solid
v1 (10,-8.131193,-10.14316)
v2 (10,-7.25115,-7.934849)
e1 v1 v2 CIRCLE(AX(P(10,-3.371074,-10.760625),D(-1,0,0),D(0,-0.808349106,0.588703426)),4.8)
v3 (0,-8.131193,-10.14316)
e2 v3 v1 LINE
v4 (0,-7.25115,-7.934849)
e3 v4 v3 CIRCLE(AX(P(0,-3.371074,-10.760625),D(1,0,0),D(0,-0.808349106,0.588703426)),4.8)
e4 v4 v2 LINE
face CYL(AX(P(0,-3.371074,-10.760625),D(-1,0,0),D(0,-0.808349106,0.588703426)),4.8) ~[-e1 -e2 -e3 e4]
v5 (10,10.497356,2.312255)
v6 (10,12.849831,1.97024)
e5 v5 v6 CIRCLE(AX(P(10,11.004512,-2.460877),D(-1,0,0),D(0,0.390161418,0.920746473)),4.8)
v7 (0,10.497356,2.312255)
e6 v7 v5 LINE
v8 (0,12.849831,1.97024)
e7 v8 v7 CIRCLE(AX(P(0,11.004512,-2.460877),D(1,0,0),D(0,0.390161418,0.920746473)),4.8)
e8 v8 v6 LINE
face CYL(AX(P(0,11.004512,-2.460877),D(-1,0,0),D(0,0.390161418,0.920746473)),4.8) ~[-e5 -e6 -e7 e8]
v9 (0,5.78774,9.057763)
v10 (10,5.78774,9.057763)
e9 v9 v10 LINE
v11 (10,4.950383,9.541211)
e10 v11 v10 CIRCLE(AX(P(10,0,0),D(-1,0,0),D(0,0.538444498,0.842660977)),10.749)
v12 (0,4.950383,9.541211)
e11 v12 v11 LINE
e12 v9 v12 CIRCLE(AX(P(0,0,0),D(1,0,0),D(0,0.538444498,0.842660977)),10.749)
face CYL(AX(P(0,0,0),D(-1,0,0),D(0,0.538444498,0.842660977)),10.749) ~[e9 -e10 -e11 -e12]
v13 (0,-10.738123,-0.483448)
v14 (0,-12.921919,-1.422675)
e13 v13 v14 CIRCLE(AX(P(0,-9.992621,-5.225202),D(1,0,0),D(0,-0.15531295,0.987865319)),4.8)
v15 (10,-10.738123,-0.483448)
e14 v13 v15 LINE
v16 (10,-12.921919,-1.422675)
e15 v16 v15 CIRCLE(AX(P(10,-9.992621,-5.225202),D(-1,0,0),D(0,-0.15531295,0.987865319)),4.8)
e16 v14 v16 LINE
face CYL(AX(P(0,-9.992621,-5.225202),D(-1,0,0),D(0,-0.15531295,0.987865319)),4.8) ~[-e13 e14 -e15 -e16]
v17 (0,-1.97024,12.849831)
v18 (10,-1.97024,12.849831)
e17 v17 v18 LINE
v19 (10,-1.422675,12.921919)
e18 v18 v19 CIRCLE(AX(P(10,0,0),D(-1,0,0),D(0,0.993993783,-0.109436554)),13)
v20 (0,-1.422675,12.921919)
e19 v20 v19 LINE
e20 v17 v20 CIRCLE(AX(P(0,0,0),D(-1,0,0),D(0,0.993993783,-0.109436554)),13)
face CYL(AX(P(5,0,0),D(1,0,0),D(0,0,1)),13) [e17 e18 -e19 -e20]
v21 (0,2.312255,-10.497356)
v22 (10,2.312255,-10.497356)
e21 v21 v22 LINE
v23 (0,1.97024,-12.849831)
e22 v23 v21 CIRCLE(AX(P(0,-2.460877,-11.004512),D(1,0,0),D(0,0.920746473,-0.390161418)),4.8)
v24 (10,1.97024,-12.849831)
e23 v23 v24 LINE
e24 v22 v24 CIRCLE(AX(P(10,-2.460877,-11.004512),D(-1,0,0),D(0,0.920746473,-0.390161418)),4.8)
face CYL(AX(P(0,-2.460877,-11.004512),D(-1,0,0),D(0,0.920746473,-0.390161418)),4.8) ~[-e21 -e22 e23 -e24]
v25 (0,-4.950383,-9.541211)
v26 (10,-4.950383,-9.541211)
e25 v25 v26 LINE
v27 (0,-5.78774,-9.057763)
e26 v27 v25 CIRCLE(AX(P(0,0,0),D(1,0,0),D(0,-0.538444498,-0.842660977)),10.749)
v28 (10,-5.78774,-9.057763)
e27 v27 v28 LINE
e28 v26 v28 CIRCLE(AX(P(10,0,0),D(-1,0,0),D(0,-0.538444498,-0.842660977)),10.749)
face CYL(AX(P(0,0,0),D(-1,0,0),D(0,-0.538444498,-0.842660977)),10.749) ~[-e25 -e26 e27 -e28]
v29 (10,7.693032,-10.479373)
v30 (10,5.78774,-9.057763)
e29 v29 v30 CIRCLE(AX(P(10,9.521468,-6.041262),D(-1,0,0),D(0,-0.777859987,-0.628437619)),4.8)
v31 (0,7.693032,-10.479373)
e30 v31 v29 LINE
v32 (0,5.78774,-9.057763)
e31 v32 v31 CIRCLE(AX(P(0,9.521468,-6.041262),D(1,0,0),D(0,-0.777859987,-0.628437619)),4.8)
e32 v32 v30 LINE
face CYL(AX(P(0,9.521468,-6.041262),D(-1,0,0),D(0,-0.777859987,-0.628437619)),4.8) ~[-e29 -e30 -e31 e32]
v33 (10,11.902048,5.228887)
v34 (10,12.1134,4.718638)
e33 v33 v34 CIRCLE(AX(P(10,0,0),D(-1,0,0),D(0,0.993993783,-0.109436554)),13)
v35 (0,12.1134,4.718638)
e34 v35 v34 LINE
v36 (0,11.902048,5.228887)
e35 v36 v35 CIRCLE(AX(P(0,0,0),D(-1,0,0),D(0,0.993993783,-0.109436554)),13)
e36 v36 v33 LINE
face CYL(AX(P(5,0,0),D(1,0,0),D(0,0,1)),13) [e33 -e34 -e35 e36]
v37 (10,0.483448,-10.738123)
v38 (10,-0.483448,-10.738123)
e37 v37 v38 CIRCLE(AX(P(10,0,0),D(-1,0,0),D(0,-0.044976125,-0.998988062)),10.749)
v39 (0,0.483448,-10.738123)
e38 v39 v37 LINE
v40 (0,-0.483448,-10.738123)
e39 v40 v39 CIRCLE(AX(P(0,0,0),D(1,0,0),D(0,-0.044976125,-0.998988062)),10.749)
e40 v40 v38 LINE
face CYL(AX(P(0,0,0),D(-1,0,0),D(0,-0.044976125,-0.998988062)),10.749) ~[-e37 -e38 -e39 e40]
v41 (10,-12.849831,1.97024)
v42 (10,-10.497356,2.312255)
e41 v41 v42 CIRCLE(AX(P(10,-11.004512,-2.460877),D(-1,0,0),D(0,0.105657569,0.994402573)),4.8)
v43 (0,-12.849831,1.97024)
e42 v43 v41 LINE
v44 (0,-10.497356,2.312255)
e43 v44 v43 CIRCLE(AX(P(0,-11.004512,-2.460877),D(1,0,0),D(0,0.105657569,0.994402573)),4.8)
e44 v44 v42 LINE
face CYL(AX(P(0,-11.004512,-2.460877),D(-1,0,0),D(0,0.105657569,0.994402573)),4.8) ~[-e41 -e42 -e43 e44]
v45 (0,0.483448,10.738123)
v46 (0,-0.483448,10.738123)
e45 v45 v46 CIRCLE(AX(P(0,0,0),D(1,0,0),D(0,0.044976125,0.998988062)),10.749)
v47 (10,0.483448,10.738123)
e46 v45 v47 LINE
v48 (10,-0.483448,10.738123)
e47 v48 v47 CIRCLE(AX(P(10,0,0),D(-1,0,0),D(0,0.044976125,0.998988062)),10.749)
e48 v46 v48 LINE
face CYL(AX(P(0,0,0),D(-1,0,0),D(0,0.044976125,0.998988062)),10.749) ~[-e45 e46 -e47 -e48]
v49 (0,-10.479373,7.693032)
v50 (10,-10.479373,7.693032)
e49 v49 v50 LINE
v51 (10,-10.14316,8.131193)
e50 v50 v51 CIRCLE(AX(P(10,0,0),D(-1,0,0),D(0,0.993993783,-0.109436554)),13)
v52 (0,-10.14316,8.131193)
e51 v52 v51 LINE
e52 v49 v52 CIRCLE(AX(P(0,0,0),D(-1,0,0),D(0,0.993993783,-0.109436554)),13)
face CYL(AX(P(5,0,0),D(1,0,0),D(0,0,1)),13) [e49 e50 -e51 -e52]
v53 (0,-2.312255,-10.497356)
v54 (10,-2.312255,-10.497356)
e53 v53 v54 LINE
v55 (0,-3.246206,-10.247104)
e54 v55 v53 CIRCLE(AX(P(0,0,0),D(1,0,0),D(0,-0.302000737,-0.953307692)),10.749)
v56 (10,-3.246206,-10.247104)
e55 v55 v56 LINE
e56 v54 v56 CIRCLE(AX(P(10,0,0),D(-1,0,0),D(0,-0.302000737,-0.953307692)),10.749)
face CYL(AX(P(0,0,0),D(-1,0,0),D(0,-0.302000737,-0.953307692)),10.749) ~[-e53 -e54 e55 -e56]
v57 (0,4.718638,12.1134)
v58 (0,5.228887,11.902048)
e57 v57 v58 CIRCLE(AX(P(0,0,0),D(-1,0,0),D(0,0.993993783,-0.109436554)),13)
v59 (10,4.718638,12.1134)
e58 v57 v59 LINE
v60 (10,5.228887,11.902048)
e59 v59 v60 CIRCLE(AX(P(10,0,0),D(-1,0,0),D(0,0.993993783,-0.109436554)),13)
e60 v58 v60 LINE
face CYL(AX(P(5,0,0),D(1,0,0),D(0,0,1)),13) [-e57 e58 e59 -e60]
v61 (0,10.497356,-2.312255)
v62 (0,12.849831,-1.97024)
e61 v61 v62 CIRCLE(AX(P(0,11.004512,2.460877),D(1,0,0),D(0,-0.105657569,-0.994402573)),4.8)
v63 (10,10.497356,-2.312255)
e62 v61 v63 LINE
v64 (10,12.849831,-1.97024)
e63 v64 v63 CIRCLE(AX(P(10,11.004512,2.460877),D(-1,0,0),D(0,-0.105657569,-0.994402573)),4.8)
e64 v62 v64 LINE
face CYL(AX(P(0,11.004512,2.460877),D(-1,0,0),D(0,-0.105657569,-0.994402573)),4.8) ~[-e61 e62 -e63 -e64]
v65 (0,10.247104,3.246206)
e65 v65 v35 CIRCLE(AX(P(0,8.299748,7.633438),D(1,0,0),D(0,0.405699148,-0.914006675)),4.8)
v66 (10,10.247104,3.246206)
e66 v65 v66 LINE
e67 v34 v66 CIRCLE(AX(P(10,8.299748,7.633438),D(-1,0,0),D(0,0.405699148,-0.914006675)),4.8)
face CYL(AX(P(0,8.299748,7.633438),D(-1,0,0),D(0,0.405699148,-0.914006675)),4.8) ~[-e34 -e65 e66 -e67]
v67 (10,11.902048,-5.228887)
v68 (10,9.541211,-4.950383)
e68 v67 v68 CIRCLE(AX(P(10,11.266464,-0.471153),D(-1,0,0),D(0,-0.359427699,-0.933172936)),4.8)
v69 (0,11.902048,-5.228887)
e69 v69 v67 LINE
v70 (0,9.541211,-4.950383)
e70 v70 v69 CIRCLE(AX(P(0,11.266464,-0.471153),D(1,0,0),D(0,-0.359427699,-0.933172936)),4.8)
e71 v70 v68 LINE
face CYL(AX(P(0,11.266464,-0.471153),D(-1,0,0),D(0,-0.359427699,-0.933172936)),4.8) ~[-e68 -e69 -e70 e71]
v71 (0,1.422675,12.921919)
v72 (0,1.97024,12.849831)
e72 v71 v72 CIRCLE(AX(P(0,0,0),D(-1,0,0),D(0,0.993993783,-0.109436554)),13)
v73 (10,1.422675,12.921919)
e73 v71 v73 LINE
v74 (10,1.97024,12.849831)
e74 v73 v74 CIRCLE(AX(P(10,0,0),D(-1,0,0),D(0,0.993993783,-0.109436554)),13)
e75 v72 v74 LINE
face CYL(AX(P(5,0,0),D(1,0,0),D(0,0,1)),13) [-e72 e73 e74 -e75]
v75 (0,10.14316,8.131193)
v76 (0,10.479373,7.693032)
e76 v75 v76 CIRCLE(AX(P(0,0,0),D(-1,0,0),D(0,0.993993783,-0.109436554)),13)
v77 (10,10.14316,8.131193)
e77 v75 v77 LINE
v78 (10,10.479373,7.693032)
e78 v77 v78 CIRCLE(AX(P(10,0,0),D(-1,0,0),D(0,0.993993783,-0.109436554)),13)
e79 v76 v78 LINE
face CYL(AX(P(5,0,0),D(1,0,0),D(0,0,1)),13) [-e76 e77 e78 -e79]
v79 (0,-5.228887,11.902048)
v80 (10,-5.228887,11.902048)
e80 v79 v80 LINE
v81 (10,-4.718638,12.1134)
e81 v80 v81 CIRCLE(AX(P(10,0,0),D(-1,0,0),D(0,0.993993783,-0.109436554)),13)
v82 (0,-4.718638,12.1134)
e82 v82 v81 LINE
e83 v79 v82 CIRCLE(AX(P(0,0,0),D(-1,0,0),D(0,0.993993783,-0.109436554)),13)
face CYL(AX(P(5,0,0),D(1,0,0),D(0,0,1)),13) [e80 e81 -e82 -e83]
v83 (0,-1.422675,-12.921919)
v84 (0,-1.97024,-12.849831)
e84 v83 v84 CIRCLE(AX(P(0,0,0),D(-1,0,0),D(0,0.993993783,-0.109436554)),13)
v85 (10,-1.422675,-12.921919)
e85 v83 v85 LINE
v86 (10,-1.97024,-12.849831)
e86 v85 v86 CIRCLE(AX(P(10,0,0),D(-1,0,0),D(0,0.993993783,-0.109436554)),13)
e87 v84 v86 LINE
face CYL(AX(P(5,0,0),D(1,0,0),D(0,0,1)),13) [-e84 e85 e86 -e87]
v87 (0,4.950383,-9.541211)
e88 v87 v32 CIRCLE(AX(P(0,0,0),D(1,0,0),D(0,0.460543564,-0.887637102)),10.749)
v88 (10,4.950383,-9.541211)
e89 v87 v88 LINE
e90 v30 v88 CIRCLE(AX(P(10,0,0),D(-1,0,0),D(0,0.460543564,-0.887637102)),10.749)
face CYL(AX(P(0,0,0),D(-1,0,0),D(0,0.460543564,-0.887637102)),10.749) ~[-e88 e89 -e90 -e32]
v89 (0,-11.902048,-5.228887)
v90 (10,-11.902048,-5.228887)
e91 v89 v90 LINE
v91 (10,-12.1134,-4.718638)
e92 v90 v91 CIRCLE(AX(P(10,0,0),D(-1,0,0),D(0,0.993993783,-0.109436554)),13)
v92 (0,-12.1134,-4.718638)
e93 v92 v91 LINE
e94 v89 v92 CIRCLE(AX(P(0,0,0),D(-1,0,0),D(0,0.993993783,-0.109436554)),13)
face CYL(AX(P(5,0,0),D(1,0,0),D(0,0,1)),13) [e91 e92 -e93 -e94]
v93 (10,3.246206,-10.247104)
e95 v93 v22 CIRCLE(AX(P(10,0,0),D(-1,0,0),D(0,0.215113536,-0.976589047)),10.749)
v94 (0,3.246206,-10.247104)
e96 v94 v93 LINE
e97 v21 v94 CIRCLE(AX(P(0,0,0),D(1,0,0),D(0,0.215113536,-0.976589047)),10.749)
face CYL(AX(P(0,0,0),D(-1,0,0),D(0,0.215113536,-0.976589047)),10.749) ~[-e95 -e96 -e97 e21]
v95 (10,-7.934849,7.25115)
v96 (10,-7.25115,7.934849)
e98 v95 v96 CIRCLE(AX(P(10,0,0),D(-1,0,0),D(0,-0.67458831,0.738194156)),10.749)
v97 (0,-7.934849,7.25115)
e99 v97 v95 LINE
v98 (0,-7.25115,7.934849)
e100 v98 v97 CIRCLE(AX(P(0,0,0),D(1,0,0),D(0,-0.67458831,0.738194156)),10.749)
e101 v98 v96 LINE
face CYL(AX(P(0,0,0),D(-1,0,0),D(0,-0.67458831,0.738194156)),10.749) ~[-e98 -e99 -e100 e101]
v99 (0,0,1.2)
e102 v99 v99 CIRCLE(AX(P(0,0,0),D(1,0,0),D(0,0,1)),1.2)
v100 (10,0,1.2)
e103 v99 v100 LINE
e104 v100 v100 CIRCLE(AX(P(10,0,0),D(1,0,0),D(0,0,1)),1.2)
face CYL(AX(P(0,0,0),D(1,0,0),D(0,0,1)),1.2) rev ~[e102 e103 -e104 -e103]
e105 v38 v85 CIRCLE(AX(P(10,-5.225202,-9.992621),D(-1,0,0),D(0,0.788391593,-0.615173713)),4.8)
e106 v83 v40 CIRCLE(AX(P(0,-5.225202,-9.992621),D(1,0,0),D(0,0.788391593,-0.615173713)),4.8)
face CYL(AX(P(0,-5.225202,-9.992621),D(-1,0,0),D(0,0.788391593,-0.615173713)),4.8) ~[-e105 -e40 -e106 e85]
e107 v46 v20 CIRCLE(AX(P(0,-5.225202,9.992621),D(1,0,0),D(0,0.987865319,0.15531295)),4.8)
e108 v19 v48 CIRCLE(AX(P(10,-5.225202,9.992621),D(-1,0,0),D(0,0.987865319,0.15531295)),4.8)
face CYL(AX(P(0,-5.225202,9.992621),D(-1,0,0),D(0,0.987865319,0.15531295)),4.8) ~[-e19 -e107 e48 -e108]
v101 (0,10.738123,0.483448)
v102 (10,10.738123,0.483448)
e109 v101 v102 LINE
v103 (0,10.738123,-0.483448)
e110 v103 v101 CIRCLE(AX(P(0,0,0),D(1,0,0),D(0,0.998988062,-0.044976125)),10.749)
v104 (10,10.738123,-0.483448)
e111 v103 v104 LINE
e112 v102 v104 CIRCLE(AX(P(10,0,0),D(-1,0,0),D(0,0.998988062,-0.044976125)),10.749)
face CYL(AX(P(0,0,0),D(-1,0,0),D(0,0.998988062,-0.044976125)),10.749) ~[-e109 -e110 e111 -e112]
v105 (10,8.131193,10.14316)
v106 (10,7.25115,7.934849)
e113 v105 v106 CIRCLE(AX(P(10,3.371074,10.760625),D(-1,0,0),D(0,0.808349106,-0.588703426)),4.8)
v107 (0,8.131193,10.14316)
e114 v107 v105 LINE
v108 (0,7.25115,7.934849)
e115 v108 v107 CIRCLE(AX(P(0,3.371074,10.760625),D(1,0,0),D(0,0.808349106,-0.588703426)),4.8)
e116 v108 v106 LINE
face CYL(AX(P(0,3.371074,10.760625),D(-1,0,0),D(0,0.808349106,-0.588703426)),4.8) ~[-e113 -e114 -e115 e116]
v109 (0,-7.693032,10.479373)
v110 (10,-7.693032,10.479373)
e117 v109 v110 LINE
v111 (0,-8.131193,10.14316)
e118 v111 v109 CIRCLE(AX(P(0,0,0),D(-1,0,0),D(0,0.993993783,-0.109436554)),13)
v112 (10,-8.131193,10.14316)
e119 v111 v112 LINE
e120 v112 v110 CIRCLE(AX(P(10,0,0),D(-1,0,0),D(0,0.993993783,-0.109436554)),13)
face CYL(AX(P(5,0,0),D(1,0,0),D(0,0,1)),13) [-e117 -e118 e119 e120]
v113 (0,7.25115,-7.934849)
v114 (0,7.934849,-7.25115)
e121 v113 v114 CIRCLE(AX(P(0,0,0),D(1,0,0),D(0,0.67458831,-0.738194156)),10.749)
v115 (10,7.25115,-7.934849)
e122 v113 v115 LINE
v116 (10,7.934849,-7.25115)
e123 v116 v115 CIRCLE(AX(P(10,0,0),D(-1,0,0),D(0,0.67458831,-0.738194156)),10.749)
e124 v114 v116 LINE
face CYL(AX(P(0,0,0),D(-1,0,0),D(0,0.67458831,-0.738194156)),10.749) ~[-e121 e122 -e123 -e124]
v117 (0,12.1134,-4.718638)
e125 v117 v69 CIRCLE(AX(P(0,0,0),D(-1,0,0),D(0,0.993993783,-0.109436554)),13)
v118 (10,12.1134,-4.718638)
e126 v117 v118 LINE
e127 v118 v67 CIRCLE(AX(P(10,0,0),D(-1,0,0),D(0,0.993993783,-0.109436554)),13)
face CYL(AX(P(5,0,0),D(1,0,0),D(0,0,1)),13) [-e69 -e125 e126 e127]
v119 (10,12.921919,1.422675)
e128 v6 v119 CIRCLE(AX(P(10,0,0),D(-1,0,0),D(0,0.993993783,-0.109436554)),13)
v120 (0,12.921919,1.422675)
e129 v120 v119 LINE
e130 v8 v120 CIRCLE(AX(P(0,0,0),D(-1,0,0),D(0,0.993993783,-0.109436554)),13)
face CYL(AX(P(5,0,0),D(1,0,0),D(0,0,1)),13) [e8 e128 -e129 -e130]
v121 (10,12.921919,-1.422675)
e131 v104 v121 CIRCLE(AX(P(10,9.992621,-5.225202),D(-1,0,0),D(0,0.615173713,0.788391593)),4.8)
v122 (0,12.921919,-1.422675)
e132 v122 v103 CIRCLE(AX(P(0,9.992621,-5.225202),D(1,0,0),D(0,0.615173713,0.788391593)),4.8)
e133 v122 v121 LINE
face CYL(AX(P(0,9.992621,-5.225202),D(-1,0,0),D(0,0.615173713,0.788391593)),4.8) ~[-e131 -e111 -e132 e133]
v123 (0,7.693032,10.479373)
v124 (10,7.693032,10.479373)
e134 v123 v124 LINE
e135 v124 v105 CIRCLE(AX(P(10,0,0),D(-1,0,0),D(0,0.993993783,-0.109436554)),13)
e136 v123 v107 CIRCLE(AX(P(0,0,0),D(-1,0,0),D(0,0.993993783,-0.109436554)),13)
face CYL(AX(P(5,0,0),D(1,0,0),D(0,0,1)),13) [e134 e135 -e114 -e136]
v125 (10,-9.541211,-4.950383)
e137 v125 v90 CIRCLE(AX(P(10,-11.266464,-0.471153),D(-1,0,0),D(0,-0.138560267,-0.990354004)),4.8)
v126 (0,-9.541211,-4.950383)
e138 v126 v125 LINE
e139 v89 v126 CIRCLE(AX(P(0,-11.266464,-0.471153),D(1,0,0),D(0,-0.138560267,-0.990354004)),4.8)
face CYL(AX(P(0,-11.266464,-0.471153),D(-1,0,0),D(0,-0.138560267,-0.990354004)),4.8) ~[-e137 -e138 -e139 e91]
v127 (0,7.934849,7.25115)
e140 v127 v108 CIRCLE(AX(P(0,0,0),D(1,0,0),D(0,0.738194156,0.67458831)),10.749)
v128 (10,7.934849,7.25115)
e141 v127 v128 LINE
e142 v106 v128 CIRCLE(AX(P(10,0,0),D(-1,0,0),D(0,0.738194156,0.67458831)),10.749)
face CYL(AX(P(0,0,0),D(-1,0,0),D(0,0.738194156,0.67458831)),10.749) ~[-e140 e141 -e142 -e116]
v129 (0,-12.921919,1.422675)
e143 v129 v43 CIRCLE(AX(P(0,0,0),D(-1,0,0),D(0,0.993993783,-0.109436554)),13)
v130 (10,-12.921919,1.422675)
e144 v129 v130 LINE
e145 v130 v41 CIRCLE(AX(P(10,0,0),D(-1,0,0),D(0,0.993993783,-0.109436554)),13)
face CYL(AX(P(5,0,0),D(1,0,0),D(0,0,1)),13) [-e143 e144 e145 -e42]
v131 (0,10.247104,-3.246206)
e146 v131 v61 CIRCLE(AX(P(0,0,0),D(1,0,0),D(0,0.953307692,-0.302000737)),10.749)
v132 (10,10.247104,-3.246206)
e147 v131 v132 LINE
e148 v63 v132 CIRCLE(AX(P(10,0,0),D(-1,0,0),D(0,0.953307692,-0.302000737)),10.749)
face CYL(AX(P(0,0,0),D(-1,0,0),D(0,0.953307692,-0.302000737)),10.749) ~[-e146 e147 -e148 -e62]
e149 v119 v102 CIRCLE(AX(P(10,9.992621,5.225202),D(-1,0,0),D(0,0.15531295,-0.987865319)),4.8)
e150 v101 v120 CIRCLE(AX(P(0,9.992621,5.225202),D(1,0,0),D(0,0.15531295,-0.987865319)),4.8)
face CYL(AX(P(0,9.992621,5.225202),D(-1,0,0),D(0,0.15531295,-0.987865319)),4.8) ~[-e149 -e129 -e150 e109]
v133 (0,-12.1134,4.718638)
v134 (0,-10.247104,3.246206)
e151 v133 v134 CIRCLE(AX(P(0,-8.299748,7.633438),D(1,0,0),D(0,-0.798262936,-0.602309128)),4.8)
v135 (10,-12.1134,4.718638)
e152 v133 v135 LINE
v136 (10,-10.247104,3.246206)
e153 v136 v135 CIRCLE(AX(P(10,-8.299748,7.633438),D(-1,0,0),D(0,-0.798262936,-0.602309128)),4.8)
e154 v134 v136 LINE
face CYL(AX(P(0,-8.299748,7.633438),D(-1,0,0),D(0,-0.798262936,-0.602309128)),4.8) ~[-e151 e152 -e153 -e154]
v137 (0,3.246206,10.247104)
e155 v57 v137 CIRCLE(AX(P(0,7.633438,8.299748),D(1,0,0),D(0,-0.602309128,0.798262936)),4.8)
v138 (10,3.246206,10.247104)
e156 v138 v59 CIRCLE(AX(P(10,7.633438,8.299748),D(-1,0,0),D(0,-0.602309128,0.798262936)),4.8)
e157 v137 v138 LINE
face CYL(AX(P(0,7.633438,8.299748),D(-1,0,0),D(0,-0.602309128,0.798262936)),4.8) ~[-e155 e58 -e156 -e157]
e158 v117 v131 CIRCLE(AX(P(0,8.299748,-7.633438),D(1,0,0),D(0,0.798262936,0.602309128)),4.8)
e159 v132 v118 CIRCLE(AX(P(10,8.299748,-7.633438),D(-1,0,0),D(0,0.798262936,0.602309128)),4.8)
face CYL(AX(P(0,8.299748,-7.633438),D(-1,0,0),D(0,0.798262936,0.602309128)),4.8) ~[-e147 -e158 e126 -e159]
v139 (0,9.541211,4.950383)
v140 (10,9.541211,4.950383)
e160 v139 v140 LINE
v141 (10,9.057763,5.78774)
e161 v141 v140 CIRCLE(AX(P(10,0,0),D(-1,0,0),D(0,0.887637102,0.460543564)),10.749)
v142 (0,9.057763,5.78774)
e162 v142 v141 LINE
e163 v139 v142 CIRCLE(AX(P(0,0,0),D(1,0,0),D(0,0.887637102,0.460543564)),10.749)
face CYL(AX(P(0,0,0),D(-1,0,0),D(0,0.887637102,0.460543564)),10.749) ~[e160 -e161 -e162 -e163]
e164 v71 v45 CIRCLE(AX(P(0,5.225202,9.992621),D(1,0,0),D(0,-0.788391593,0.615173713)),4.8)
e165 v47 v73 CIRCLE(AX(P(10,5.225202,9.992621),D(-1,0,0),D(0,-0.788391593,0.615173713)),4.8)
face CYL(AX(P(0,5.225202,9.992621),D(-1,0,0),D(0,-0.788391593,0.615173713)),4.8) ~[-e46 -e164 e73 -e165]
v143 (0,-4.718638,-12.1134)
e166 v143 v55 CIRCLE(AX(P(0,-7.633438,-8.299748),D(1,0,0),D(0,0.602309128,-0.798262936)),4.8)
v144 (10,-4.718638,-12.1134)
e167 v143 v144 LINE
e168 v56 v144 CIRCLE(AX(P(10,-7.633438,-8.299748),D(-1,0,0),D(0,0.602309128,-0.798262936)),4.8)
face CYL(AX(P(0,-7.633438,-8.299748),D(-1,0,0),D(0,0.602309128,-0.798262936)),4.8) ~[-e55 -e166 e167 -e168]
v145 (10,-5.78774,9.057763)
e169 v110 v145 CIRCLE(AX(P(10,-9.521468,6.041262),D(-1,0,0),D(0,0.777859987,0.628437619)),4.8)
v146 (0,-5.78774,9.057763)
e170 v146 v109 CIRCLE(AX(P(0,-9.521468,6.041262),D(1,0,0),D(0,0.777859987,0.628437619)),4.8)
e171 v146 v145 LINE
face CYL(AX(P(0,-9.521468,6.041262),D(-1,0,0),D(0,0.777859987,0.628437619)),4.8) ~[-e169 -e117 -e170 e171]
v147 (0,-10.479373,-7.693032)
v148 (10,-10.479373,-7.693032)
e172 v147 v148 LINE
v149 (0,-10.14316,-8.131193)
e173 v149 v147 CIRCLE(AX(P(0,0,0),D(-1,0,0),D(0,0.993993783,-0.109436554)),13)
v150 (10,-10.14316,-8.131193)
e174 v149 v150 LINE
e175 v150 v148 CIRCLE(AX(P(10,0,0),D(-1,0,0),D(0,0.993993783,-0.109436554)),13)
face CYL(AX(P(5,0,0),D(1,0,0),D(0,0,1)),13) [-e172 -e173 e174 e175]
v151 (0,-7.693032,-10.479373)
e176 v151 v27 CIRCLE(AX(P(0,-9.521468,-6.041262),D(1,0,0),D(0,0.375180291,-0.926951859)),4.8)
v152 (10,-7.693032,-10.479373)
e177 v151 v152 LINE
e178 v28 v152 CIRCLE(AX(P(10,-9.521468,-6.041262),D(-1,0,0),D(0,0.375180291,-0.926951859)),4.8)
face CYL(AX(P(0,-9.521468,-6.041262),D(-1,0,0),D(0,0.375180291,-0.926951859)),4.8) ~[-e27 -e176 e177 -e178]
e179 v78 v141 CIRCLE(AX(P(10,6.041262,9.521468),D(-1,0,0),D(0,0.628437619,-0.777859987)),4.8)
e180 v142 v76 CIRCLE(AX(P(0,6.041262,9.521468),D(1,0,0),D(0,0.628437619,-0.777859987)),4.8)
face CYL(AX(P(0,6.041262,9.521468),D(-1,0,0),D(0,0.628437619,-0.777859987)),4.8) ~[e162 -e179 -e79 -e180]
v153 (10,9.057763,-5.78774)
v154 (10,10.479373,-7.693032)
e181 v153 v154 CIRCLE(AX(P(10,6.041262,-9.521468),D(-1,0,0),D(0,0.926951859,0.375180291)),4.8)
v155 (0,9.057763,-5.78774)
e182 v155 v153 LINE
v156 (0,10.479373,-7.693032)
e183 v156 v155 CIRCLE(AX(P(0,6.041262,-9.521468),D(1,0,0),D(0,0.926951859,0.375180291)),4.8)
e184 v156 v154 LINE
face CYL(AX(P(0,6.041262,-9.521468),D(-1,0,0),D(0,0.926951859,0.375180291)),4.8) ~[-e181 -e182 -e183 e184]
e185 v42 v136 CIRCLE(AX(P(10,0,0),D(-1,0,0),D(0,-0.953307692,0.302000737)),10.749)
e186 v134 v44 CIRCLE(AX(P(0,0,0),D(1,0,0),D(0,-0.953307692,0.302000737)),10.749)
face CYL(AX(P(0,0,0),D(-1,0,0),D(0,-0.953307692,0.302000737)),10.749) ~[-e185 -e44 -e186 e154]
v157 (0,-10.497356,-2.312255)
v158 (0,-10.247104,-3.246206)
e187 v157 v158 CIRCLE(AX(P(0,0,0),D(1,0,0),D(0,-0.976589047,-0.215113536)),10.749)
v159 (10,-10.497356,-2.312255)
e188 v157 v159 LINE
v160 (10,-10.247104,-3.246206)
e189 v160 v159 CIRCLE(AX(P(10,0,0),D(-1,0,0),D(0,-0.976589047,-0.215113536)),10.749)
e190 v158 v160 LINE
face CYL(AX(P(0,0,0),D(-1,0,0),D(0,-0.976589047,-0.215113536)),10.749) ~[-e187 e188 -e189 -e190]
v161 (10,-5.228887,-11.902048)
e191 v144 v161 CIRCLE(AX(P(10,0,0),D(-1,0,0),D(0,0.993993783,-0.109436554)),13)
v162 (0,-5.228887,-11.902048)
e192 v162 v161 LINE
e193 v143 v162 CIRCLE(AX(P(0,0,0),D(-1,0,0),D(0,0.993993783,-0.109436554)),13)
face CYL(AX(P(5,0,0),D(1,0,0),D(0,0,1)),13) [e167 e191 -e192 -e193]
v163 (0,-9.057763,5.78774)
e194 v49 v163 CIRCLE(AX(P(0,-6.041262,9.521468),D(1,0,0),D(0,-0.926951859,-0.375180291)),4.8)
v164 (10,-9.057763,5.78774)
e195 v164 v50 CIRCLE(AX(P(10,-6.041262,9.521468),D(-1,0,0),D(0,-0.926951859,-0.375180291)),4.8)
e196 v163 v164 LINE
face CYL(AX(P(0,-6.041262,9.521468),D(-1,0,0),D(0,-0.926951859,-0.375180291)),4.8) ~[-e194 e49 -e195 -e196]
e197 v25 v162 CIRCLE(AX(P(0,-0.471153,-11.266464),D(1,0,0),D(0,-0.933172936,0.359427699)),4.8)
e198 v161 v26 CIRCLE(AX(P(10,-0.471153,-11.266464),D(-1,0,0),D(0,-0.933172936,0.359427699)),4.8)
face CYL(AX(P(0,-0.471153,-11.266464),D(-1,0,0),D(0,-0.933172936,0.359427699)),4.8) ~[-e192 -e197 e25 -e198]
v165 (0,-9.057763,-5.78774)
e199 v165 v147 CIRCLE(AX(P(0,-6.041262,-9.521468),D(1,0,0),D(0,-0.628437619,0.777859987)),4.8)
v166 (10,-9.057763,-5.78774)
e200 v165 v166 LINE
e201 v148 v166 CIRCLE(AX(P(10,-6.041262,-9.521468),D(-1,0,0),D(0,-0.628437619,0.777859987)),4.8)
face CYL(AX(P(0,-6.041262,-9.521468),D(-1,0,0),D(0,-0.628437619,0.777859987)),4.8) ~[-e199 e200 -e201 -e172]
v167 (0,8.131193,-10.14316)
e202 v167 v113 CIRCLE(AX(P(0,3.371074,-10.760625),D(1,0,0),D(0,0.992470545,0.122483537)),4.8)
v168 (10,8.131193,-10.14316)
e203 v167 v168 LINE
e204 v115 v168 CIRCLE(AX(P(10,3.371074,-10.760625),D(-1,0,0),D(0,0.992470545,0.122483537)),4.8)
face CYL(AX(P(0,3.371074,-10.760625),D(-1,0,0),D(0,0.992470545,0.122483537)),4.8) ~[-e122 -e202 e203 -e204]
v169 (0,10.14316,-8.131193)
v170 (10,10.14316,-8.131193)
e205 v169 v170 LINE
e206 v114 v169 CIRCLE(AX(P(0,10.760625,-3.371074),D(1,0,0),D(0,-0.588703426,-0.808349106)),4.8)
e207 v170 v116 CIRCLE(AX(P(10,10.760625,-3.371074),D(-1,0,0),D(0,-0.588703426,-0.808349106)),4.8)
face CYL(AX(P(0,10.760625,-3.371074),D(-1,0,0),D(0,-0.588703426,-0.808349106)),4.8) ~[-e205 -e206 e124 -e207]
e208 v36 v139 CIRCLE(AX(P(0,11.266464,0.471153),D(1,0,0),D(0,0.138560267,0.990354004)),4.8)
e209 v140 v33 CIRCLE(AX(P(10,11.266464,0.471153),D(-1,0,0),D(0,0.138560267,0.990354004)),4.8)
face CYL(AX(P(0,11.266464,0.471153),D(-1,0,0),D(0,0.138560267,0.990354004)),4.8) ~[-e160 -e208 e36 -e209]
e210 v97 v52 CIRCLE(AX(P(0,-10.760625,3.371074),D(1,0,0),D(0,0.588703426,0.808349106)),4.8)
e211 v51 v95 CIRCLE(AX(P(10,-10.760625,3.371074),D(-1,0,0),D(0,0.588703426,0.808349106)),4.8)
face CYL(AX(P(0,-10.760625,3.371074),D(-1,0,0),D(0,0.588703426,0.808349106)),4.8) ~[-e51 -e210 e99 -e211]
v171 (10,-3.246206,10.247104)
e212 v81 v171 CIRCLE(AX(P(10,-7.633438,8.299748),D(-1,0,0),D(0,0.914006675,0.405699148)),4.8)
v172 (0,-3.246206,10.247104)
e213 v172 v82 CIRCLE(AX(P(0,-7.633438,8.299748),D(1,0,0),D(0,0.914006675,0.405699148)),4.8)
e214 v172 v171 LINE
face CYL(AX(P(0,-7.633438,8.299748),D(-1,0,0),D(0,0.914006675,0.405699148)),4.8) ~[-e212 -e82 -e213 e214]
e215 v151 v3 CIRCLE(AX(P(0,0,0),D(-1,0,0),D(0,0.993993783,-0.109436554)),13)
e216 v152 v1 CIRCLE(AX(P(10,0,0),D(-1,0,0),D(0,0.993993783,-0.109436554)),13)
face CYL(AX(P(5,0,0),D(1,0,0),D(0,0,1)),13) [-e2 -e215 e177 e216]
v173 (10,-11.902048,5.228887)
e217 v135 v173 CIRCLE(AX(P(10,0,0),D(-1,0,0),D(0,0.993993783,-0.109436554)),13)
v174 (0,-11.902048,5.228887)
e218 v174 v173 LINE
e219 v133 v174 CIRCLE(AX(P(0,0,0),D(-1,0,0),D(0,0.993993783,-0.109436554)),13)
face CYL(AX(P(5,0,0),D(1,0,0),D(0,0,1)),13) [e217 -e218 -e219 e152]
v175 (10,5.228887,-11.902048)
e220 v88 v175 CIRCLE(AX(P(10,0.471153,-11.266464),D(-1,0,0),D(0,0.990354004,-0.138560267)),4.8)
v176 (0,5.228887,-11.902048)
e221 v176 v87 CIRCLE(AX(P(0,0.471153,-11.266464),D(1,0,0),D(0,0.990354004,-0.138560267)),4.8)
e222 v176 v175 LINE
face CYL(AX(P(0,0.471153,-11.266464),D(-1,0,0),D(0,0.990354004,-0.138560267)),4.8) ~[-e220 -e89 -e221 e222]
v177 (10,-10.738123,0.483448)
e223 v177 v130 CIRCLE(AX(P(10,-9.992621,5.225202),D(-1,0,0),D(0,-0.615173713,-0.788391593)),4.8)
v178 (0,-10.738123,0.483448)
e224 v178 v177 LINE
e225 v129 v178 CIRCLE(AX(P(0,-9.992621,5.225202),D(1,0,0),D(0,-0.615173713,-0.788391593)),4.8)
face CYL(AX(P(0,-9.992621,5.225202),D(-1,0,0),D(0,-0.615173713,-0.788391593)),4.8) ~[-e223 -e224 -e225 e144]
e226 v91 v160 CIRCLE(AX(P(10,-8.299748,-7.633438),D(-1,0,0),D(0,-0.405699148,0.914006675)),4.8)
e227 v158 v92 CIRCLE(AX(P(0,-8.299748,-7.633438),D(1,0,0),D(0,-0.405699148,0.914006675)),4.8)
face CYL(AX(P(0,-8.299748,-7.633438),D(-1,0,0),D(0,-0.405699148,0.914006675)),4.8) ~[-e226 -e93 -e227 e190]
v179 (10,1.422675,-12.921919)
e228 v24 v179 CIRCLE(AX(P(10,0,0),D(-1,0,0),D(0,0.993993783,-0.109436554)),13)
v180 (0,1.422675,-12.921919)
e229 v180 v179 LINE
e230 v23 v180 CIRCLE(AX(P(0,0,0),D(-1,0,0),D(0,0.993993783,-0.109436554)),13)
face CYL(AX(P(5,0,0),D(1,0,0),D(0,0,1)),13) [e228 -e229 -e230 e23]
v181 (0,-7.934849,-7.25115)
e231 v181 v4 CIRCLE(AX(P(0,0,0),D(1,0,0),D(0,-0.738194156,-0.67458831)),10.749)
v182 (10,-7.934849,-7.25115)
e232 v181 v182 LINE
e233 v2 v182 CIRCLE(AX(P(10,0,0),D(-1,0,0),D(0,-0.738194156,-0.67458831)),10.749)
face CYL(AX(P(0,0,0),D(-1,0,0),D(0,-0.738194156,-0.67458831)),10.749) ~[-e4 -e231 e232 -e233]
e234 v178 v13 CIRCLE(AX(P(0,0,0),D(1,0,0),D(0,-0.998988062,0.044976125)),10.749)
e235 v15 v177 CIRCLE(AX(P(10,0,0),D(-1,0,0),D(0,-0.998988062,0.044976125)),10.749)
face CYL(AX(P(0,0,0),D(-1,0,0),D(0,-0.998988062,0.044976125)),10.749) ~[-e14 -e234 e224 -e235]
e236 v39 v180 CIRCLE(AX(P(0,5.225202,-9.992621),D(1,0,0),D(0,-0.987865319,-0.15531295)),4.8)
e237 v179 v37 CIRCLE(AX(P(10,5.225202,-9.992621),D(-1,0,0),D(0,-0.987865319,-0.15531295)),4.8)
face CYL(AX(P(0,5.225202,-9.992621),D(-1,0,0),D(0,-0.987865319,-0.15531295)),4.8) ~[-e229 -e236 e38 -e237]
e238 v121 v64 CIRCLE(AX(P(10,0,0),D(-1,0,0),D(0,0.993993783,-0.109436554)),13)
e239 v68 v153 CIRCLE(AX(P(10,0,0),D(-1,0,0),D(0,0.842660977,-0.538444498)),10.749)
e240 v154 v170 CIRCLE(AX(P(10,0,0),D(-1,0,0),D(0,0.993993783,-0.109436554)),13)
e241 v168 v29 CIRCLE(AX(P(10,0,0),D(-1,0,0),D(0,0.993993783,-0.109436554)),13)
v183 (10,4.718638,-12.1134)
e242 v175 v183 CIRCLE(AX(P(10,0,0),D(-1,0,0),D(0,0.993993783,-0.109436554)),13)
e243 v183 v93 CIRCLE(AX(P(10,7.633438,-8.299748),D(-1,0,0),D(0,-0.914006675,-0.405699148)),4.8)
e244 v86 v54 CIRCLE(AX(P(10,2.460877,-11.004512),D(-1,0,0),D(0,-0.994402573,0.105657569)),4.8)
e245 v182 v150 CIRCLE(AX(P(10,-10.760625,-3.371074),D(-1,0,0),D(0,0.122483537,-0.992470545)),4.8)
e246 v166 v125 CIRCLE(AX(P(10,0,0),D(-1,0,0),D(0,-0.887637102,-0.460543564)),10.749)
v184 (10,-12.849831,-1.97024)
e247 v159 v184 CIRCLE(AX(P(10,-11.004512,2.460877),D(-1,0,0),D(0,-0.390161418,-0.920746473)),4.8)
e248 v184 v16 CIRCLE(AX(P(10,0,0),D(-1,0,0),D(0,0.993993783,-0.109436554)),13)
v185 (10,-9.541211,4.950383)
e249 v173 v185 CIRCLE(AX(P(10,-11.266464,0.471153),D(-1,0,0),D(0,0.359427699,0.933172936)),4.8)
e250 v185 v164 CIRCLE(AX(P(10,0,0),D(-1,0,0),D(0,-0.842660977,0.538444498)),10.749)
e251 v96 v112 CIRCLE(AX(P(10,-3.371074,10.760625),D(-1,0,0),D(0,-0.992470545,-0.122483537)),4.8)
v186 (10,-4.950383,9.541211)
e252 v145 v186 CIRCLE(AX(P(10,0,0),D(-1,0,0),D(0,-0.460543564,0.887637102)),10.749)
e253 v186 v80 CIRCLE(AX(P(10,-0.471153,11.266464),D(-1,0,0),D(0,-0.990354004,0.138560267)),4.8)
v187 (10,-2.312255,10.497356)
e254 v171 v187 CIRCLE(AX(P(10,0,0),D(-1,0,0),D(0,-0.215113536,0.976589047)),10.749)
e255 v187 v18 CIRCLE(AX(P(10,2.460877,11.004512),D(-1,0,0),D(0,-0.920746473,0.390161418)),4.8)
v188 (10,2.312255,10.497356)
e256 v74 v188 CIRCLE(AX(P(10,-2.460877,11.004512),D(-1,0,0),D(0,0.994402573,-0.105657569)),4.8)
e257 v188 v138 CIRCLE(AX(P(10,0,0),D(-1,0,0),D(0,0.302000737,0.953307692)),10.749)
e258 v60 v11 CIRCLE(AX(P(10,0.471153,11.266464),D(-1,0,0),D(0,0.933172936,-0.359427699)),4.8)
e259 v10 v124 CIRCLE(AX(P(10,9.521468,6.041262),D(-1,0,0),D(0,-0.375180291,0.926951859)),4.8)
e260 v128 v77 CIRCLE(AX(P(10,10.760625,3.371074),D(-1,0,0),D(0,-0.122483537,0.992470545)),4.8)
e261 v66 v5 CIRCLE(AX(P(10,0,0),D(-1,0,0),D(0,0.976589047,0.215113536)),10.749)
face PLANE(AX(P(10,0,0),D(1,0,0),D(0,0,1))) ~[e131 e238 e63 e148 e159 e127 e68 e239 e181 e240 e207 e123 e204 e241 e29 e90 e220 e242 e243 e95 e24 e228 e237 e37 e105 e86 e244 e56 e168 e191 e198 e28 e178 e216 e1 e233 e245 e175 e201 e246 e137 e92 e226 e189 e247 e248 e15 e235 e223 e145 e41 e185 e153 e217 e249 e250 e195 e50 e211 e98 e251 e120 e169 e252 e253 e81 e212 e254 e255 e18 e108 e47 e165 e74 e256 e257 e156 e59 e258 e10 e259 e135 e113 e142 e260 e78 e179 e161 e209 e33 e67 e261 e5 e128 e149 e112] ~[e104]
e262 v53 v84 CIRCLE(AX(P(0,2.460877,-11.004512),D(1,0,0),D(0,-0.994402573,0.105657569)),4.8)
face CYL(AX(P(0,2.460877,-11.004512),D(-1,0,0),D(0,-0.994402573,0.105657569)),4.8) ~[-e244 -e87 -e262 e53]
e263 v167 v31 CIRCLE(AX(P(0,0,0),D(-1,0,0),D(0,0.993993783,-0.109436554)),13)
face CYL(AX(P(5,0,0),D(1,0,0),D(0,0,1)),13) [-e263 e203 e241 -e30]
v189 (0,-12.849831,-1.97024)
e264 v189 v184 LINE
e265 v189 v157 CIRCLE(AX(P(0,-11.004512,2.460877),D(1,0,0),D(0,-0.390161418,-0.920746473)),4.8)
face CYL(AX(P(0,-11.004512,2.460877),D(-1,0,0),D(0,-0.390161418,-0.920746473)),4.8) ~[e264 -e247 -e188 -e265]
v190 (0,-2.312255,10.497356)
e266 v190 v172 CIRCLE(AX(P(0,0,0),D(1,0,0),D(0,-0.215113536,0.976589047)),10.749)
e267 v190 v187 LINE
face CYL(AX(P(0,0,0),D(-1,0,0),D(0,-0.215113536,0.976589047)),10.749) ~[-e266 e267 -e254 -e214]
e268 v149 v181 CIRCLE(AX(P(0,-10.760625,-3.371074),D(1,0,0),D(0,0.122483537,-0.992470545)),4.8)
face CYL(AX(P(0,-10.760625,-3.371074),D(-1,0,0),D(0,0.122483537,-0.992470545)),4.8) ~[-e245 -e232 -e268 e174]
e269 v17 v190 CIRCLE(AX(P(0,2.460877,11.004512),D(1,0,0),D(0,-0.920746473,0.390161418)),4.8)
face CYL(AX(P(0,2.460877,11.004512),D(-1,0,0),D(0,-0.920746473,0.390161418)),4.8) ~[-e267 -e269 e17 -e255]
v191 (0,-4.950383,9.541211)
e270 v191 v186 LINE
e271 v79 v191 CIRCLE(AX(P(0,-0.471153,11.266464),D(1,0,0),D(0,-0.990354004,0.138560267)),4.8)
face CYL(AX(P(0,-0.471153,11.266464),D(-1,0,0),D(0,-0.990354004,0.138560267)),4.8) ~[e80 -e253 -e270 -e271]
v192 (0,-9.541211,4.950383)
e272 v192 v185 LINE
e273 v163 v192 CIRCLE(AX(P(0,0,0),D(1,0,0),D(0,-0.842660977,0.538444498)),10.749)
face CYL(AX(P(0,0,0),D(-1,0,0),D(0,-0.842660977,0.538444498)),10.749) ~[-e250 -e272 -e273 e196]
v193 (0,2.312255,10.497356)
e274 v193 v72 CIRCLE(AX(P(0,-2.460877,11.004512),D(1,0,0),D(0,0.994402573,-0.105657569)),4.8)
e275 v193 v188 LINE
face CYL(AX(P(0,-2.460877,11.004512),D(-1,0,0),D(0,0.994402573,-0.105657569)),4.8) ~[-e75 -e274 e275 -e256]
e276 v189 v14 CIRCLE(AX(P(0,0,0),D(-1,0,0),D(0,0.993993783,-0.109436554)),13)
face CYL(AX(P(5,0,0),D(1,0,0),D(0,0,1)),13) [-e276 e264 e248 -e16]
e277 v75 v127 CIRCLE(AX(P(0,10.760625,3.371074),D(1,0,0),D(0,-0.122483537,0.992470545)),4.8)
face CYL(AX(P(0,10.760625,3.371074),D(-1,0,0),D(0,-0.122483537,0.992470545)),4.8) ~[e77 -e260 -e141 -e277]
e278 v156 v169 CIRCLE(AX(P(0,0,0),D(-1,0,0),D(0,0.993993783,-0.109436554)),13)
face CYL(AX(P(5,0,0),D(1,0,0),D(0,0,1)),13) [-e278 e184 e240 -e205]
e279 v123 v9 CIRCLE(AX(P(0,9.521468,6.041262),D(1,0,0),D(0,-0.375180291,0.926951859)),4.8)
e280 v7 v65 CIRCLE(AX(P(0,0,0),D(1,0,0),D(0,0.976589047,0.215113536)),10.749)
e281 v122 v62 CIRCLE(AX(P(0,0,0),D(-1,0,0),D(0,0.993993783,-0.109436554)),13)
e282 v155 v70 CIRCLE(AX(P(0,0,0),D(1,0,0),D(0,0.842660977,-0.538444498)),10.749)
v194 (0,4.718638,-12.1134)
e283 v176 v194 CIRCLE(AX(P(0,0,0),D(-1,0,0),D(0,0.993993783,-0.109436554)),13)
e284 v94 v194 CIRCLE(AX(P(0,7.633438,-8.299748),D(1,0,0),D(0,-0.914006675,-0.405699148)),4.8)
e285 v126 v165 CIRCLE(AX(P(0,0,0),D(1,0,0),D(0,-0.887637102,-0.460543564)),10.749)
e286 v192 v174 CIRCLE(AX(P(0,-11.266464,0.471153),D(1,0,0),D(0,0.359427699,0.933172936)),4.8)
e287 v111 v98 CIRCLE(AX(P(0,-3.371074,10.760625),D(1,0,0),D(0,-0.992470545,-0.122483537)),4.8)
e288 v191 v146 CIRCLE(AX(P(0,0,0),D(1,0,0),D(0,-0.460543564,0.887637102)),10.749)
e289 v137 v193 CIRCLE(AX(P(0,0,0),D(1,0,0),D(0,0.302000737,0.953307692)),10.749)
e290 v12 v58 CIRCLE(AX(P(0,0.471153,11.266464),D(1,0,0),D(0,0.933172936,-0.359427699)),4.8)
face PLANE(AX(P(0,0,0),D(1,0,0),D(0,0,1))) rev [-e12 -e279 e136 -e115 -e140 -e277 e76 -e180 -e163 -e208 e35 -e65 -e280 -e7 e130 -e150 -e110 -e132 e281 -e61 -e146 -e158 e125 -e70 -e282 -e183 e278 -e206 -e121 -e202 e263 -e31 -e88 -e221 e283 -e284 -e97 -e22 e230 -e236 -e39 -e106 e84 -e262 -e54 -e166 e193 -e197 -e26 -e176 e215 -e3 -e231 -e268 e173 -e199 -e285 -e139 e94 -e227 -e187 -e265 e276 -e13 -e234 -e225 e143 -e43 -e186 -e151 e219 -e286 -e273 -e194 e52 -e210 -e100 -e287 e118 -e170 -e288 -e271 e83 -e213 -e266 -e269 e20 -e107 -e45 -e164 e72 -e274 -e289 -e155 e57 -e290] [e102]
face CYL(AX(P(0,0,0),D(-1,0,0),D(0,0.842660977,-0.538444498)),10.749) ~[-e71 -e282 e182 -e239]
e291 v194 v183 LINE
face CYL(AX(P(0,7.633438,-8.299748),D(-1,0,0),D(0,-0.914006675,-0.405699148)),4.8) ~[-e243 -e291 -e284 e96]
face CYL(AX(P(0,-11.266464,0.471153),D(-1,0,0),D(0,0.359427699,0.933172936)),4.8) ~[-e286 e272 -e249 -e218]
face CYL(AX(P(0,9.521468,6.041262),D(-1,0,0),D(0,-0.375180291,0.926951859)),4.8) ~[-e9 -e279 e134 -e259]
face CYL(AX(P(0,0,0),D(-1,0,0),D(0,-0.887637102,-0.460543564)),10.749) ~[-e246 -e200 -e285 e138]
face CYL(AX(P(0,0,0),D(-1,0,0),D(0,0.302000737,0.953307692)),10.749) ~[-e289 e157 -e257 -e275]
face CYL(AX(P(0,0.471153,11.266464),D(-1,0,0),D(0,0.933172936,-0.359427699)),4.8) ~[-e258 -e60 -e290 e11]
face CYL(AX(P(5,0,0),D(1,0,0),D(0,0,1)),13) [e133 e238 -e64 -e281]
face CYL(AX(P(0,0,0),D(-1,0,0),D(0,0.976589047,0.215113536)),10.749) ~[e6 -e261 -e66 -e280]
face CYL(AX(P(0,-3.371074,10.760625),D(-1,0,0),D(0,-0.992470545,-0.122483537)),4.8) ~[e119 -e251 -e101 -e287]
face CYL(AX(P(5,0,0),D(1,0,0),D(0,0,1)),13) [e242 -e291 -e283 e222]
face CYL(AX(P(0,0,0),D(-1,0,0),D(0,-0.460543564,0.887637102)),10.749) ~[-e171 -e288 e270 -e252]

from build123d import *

# Parameters (mm, degrees)
BASPROSKE_W     = 10
BASPROSKE_H     = 13
TOOTHCUT_DEPTH  = 21.928449536
TEETHCUTS_COUNT = 24
TEETHCUTS_ANGLE = 345
BORSKE_R        = 1.2
BORE_DEPTH      = 50.0000508


with BuildPart() as part:
    # BasProSke → Base-Revolve (revolve)
    with BuildSketch(Plane(origin=(0, 0, 0), x_dir=(1, 0, 0), z_dir=(0, 1, 0)), mode=Mode.PRIVATE) as base_revolve_sk:
        with Locations((5, 6.5)):
            Rectangle(BASPROSKE_W, BASPROSKE_H)
    revolve(base_revolve_sk.sketch.rotate(Axis((-10, 0, 0), (1, 0, 0)), 180), axis=Axis((-10, 0, 0), (1, 0, 0)))

    # TooCutSke → ToothCut (cut, through all)
    with BuildSketch(Plane(origin=(0, 0, 0), x_dir=(0, 0, -1), z_dir=(1, 0, 0))):
        with BuildLine():
            ThreePointArc((0.483448384, 10.738122679), (0, 10.749), (-0.483448384, 10.738122679))
            ThreePointArc((-0.483448384, 10.738122679), (-0.821636462, 11.902754369), (-1.44092227, 12.945454344))
            ThreePointArc((-1.44092227, 12.945454344), (0, 13.0254), (1.44092227, 12.945454344))
            ThreePointArc((1.44092227, 12.945454344), (0.821636462, 11.902754369), (0.483448384, 10.738122679))
        make_face()
    toothcut = extrude(amount=TOOTHCUT_DEPTH, mode=Mode.SUBTRACT)

    # TeethCuts: ToothCut ×24 about axis
    teethcuts_axis = Axis((-10, 0, 0), (1, 0, 0))
    for i in range(1, TEETHCUTS_COUNT):
        add(toothcut.rotate(teethcuts_axis, i * TEETHCUTS_ANGLE / (TEETHCUTS_COUNT - 1)), mode=Mode.SUBTRACT)

    # BorSke → Bore (cut, symmetric)
    with BuildSketch(Plane(origin=(0, 0, 0), x_dir=(0, 0, -1), z_dir=(1, 0, 0))):
        with Locations(Location((0, 0, 0), (0, 0, 180))):
            Circle(BORSKE_R)
    extrude(amount=BORE_DEPTH, both=True, mode=Mode.SUBTRACT)


solid = part.part
